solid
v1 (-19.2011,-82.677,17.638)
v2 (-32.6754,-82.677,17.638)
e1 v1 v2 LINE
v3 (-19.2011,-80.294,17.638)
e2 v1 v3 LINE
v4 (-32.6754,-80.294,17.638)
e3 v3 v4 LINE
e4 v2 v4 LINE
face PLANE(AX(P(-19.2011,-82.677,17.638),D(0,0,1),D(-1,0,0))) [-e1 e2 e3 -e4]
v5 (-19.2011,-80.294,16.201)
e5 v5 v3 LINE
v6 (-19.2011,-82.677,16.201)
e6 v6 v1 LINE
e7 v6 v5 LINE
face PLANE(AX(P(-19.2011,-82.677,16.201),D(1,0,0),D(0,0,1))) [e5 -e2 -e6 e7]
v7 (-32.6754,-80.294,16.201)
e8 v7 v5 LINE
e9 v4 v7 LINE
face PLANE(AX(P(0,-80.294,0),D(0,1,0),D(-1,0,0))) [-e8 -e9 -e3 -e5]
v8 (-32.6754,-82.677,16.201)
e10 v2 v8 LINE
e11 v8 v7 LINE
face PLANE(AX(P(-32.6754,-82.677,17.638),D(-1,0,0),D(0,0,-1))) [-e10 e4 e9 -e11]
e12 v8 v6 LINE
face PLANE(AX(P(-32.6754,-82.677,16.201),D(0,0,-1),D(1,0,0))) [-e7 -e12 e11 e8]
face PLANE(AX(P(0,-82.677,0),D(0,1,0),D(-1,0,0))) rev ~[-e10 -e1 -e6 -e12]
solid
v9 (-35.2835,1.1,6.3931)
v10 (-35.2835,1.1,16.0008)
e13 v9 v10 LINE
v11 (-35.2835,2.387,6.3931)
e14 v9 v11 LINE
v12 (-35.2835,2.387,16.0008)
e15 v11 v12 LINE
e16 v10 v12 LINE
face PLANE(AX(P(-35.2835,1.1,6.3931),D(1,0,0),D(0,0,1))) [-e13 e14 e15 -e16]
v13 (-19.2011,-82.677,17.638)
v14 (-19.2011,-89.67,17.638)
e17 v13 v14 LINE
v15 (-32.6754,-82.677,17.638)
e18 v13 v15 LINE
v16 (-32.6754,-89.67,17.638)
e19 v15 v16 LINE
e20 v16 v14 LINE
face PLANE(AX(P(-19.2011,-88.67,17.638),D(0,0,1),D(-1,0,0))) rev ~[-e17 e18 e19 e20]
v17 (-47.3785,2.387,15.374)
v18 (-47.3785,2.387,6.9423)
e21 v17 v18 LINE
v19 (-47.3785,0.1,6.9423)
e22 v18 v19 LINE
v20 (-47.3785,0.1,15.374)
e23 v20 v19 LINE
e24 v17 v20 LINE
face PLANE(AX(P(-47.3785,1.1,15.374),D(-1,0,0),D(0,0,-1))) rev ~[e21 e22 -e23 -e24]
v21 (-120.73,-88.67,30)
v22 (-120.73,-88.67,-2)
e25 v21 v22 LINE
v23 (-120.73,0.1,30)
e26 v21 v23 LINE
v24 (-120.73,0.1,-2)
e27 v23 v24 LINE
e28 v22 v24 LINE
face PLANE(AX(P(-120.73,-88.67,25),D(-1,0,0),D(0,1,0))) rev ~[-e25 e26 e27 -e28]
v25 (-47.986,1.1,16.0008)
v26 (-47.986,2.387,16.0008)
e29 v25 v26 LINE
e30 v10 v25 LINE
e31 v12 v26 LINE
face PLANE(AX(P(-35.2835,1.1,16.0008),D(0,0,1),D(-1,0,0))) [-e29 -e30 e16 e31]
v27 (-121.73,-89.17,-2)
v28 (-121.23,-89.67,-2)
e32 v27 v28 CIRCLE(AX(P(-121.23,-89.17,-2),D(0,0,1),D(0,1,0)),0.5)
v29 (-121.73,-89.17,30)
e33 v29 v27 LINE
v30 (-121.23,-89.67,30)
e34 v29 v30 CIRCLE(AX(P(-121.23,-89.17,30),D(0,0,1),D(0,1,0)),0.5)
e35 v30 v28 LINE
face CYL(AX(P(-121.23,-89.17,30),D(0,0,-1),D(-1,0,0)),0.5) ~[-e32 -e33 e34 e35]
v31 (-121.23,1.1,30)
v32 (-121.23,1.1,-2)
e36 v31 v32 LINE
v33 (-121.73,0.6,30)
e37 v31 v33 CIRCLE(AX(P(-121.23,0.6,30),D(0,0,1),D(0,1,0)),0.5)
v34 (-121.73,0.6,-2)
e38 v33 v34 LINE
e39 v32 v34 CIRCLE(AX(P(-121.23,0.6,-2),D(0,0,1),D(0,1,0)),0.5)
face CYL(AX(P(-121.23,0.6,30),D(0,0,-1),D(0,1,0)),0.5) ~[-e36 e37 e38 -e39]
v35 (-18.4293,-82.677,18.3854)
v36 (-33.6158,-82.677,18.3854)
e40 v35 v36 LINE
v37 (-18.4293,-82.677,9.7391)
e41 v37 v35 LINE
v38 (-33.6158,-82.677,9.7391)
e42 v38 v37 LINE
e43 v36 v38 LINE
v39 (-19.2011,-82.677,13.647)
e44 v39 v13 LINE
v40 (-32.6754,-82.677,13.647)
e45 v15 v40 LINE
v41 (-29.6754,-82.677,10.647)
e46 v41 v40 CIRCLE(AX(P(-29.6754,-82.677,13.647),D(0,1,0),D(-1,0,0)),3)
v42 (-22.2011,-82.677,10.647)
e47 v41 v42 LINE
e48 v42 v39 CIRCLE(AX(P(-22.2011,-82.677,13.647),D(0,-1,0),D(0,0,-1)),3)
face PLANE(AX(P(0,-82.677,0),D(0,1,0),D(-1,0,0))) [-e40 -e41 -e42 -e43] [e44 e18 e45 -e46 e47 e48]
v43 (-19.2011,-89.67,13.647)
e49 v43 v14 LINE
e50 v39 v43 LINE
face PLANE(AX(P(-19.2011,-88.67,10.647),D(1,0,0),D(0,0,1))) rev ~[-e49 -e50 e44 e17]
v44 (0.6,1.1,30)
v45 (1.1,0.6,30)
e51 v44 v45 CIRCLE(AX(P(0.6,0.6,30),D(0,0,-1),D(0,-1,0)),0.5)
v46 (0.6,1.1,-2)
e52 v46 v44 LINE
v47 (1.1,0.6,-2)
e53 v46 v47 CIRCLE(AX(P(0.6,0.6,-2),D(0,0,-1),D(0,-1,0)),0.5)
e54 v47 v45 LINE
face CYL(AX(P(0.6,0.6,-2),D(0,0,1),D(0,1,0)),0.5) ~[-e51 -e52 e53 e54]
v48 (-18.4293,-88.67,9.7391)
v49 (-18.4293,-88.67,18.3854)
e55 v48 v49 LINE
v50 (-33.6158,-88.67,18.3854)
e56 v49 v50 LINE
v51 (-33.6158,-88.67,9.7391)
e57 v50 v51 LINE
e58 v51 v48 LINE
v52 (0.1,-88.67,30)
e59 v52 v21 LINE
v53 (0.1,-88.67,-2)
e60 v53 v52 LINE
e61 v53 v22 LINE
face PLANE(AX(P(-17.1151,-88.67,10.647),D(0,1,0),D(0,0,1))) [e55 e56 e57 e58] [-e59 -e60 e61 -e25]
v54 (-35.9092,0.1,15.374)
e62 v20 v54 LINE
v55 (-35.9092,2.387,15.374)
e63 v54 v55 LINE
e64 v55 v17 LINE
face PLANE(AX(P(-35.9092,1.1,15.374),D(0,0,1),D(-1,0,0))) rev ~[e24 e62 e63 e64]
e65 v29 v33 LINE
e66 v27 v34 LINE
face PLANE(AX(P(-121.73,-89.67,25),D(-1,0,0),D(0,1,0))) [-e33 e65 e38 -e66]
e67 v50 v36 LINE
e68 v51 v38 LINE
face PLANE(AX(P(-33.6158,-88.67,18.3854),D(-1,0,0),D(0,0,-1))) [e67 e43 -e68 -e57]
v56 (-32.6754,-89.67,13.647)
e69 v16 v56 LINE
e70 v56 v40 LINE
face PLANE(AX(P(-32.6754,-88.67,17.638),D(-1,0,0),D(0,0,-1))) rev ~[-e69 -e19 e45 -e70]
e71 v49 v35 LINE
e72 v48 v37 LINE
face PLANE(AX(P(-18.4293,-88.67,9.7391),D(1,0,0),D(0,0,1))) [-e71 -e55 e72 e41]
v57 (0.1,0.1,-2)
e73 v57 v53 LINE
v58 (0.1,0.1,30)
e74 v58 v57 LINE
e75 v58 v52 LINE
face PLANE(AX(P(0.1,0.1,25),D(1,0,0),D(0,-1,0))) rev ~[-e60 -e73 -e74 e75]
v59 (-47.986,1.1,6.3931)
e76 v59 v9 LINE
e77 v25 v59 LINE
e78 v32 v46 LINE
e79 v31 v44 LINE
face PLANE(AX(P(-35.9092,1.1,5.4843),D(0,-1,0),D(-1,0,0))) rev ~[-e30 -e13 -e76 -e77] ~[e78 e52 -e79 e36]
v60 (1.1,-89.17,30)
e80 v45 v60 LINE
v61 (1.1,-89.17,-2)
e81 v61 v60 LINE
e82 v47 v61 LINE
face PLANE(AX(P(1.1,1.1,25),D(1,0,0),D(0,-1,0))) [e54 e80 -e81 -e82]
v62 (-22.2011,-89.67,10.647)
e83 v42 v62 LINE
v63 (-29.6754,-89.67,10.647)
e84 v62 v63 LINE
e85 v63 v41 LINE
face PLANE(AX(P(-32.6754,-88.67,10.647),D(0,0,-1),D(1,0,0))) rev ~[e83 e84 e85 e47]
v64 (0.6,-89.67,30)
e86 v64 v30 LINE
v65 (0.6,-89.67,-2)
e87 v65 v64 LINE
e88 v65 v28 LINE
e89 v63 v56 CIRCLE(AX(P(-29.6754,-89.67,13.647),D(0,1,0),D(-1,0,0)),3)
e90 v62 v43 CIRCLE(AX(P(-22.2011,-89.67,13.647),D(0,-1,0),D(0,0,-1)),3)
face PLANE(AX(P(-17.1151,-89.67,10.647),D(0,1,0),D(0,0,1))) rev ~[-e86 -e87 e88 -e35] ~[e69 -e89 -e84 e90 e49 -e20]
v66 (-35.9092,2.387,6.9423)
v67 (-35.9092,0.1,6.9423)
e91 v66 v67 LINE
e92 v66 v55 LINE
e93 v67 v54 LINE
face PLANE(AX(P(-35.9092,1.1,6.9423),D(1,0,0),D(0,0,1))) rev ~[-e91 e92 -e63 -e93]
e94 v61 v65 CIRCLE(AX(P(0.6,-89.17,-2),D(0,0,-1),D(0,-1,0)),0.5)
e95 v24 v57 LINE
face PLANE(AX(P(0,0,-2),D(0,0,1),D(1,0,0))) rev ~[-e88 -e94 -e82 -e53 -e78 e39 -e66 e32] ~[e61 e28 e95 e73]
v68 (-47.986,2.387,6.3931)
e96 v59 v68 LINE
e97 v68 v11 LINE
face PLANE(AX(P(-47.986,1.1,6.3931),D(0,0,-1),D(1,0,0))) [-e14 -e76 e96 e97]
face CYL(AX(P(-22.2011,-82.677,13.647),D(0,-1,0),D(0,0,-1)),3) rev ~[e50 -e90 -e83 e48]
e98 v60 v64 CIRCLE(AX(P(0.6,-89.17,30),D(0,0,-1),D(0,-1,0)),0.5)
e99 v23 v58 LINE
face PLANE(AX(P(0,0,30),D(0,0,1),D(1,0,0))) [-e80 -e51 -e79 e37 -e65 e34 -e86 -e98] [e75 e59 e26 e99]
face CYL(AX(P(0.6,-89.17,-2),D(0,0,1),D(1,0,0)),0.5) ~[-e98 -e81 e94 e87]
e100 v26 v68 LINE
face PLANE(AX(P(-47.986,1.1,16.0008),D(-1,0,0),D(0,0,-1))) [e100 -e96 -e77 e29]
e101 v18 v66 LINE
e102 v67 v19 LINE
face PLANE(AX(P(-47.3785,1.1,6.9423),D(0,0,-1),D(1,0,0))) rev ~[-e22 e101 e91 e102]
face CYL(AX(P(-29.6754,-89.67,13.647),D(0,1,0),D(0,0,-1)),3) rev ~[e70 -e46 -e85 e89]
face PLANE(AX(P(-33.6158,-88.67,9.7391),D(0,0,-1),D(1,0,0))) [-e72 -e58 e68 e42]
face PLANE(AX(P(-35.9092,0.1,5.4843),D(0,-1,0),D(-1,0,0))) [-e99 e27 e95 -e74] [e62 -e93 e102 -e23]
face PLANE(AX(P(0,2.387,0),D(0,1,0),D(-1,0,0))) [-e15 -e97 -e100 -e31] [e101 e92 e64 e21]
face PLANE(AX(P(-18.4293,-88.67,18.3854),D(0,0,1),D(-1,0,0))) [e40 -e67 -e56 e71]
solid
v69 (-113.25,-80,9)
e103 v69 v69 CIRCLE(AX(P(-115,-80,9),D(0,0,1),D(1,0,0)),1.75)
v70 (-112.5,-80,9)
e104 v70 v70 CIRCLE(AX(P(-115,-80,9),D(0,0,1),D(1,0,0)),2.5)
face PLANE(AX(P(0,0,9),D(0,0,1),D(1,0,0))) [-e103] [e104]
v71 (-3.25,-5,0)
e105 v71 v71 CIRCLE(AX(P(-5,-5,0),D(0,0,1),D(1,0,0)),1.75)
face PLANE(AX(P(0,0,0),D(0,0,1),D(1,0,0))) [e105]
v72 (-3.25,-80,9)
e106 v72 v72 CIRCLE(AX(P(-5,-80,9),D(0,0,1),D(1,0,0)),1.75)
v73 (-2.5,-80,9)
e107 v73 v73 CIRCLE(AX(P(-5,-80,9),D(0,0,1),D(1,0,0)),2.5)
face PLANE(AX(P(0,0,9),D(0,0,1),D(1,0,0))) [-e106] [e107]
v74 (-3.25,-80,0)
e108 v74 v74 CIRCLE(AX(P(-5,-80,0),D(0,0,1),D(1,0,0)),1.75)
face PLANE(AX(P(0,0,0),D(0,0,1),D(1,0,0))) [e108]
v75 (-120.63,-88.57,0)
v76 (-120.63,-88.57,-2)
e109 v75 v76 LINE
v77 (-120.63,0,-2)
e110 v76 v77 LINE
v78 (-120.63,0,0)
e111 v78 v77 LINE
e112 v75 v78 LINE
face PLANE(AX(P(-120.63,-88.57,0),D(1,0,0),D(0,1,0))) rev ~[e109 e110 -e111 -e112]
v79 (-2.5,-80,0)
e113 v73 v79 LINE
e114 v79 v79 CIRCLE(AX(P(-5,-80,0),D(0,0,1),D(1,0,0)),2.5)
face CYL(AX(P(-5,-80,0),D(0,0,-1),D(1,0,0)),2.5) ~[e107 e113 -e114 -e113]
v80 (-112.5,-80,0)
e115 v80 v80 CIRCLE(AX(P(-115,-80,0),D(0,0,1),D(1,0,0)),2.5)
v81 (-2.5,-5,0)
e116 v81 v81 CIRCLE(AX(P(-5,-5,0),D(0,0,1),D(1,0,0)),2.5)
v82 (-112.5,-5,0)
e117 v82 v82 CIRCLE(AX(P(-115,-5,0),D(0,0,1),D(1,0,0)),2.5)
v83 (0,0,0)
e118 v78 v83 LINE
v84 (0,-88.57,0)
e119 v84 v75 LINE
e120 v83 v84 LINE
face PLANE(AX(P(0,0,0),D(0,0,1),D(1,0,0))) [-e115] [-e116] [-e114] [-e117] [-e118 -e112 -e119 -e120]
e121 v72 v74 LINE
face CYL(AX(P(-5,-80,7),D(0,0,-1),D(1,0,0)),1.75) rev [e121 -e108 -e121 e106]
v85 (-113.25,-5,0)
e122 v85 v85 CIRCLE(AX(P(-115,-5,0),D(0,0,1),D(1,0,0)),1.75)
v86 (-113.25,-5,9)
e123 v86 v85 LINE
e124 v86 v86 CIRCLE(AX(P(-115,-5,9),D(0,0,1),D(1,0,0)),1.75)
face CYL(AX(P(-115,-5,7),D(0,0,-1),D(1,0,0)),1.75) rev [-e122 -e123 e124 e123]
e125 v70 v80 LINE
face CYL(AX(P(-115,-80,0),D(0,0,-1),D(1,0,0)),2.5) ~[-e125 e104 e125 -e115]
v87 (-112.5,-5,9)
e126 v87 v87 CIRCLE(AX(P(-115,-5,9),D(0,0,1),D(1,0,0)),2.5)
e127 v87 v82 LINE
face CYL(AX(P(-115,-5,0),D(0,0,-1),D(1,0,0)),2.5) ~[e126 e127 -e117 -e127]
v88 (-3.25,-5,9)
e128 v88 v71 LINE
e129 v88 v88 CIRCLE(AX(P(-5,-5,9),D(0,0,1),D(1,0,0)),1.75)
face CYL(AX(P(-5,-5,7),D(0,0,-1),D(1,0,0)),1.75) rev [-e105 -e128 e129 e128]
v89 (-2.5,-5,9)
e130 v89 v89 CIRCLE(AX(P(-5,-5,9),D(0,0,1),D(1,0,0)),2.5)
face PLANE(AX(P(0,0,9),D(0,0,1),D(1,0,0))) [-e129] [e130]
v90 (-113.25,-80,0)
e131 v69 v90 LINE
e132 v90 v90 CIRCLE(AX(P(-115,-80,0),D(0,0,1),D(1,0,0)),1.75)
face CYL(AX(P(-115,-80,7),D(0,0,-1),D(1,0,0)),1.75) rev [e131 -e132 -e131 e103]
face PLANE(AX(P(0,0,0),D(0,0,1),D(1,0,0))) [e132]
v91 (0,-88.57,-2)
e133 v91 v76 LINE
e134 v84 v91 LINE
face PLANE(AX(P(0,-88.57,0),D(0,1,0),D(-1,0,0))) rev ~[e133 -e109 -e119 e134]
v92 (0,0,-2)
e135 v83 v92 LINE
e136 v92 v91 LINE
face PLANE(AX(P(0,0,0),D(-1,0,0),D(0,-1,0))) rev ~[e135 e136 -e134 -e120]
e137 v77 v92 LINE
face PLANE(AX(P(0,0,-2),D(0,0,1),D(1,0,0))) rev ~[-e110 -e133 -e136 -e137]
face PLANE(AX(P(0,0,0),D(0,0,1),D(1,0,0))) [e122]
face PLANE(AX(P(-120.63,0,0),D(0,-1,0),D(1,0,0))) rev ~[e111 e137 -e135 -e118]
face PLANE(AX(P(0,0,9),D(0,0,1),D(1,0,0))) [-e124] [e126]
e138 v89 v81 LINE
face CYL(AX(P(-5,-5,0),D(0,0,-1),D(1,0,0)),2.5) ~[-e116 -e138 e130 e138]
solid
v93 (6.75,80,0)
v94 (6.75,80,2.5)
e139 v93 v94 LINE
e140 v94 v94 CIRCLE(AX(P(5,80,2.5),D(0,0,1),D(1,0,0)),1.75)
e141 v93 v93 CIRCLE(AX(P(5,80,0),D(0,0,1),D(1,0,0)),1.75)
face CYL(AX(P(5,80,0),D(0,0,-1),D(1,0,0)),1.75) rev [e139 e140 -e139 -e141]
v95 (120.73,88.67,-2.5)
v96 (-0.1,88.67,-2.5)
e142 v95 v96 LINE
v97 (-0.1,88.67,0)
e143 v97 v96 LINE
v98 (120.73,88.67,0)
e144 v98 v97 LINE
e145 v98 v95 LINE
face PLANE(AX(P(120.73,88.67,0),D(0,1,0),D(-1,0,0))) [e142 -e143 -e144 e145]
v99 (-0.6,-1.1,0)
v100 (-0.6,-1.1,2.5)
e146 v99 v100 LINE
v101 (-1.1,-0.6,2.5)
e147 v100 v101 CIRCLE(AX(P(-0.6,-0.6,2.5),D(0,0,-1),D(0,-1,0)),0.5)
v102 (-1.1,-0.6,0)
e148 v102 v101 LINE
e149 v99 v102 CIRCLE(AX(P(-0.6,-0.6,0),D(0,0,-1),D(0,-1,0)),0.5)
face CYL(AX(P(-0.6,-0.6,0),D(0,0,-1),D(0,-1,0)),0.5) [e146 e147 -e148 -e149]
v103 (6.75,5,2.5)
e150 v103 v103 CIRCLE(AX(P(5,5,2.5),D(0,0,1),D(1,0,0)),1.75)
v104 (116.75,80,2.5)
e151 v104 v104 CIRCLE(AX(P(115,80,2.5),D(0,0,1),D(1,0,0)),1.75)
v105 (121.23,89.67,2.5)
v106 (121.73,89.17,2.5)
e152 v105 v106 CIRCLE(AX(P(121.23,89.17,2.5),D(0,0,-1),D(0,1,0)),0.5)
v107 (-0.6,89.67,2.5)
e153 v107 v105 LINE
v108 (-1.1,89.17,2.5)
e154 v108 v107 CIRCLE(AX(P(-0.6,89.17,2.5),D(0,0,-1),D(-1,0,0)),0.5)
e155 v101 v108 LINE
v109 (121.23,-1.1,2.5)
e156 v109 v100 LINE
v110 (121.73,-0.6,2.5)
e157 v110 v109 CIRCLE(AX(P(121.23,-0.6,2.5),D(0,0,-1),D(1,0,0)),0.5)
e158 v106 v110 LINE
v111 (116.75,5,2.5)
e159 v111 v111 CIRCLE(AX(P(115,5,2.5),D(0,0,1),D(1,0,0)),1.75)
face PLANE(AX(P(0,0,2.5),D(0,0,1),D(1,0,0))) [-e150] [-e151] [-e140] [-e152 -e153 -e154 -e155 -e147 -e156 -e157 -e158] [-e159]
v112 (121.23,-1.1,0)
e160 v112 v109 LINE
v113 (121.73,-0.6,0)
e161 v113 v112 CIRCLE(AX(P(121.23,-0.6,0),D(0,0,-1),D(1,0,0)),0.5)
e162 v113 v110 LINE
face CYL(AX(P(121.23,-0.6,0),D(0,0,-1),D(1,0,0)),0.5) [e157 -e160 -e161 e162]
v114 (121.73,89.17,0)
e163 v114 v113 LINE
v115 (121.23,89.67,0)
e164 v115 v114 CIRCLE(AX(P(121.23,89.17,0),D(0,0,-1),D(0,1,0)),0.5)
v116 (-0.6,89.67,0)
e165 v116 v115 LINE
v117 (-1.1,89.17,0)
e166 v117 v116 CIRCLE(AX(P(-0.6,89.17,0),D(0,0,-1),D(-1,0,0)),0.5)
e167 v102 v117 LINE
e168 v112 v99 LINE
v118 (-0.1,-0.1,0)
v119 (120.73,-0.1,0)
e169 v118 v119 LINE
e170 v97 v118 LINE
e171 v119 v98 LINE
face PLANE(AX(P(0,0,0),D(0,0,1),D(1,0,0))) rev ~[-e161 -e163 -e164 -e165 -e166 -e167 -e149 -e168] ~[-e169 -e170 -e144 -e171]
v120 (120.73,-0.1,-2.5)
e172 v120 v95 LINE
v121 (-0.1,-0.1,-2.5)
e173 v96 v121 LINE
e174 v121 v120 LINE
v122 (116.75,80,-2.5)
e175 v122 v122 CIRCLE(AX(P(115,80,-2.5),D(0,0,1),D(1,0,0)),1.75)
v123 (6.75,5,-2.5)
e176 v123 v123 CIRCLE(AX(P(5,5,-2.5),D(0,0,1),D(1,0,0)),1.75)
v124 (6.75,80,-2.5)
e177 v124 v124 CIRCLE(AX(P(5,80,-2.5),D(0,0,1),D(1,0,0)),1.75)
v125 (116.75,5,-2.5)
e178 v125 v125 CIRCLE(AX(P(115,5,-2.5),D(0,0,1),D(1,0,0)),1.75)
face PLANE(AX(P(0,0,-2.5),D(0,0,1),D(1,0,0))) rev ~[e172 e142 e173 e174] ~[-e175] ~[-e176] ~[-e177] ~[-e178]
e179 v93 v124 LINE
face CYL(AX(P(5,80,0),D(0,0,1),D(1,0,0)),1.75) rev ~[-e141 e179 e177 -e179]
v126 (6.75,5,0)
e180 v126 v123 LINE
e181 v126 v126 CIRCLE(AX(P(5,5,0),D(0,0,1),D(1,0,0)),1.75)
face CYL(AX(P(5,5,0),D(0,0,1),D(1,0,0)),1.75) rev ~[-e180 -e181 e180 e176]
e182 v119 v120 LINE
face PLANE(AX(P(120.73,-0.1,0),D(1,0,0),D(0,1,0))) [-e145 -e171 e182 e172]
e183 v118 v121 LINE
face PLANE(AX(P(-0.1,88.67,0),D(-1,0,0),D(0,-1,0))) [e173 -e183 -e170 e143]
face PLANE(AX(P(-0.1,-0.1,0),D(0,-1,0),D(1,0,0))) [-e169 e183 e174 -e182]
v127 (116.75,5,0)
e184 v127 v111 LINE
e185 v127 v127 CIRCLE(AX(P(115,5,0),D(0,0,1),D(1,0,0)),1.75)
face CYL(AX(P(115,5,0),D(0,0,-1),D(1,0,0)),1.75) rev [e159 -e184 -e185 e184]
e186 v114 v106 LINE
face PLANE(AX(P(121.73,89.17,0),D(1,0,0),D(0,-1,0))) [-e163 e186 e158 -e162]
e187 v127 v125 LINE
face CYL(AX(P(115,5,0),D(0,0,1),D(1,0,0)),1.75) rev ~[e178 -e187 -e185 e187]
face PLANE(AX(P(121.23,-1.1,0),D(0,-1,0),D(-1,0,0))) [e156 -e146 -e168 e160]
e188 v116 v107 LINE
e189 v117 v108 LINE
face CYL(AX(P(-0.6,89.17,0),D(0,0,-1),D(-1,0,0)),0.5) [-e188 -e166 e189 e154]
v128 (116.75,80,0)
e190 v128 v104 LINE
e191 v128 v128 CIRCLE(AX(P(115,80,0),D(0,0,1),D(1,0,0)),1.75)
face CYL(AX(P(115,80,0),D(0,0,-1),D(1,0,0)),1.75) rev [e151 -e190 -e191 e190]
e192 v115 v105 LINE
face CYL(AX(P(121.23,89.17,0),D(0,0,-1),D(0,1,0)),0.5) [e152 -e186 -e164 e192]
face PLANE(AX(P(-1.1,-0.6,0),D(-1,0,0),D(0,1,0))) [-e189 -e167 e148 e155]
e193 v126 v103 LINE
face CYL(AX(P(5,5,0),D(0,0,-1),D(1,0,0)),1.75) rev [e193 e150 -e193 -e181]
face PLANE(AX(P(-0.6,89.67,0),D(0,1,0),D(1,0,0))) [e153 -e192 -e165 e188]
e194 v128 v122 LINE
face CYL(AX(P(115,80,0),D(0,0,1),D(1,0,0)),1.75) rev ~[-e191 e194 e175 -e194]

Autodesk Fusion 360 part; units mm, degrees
sketch "Sketch 2" plane through (0, 0, 0) normal (0, 0, 1) x (1, 0, 0)
  circle A0 centre (5, 80) radius 1.75
  line L0 (-0.1, -0.1) -> (120.73, -0.1)
  arc A1 (-0.6, -1.1) -> (-1.1, -0.6) centre (-0.6, -0.6) cw
  line L1 (-1.1, -0.6) -> (-1.1, 89.17)
  arc A2 (-1.1, 89.17) -> (-0.6, 89.67) centre (-0.6, 89.17) cw
  line L2 (121.73, 89.17) -> (121.73, -0.6)
  circle A3 centre (115, 80) radius 1.75
  line L3 (120.73, -0.1) -> (120.73, 88.67)
  line L4 (120.73, 88.67) -> (-0.1, 88.67)
  circle A4 centre (115, 5) radius 1.75
  circle A5 centre (5, 5) radius 1.75
  line L5 (121.23, -1.1) -> (-0.6, -1.1)
  arc A6 (121.23, 89.67) -> (121.73, 89.17) centre (121.23, 89.17) cw
  line L6 (-0.1, 88.67) -> (-0.1, -0.1)
  arc A7 (121.73, -0.6) -> (121.23, -1.1) centre (121.23, -0.6) cw
  line L7 (-0.6, 89.67) -> (121.23, 89.67)
  line L8 (-0.1, 88.67) -> (120.73, 88.67)
  line L9 (120.73, 88.67) -> (120.73, -0.1)
  line L10 (120.73, -0.1) -> (-0.1, -0.1)
  line L11 (-0.1, -0.1) -> (-0.1, 88.67)
  dimension "d1" = 1
extrude "Extrude1" add sketch "Sketch 2" along normal blind 2.5 contours L0 L3 L4 L6 L8 L9 L10 L11 | A1 L1 A2 L2 L5 A6 A7 L7
extrude "Extrude2" add sketch "Sketch 2" against normal blind 2.5 contours L0 L3 L4 L6 L8 L9 L10 L11

Autodesk Fusion 360 part; units mm, degrees
sketch "Sketch 1" plane through (0, 0, 0) normal (0, 0, 1) x (1, 0, 0)
  line L0 (-120.63, -88.57) -> (-120.63, 0)
  circle A0 centre (-115, -5) radius 1.75
  line L1 (0, 0) -> (0, -88.57)
  circle A1 centre (-115, -80) radius 1.75
  line L2 (-120.63, 0) -> (0, 0)
  circle A2 centre (-5, -80) radius 1.75
  line L3 (0, -88.57) -> (-120.63, -88.57)
  circle A3 centre (-5, -5) radius 1.75
  line L4 (0.1, -88.67) -> (-120.73, -88.67)
  line L5 (-120.73, -88.67) -> (-120.73, 0.1)
  line L6 (-120.73, 0.1) -> (0.1, 0.1)
  line L7 (0.1, 0.1) -> (0.1, -88.67)
  line L8 (1.1, -89.67) -> (-121.73, -89.67)
  line L9 (-121.73, -89.67) -> (-121.73, 1.1)
  line L10 (-121.73, 1.1) -> (1.1, 1.1)
  line L11 (1.1, 1.1) -> (1.1, -89.67)
  circle A4 centre (-115, -5) radius 2.5
  circle A5 centre (-115, -80) radius 2.5
  circle A6 centre (-5, -80) radius 2.5
  circle A7 centre (-5, -5) radius 2.5
  dimension "d1" = -0.1
  dimension "d2" = -1.1
  dimension "d7" = 5
  dimension "d8" = 5
  dimension "d9" = 5
  dimension "d10" = 5
extrude "Extrude1" add sketch "Sketch 1" against normal blind 2 contours L0 L1 L2 L3 | A0 | A1 | A2 | A3 | L8 L9 L10 L11 | A4 | A5 | A6 | A7 makes body 1 at (-40.21, -29.5233, 0) makes body 2 at (-40.1767, 0.7667, 0)
extrude "Extrude2" add sketch "Sketch 1" along normal blind 35 contours L8 L9 L10 L11 bodies 2
extrude "Extrude4" add sketch "Sketch 1" along normal blind 4 contours A4 | A5 | A6 | A7 bodies 1
extrude "Extrude5" add 4 faces at (-2.7658, -5.2111, 4) (-113.9872, -7.0026, 4) (-117.1045, -80.7791, 4) (-2.7593, -80.1242, 4) along direction (0, 0, 1) blind 3 on bodies 1 bodies 1
extrude "Extrude6" add 4 faces at (-113.9872, -7.0026, 7) (-2.7658, -5.2111, 7) (-117.1045, -80.7791, 7) (-2.7593, -80.1242, 7) along direction (0, 0, 1) blind 2 on bodies 1 bodies 1
extrude "Extrude7" cut 1 faces at (-40.1767, 0.7667, 35) along direction (0, 0, -1) blind 10 on bodies 2 bodies 2
extrude "Extrude8" add 1 faces at (-40.1767, 0.7667, 25) along direction (0, 0, 1) blind 5 on bodies 2 bodies 2
sketch "Sketch3" plane through (0, -89.67, 0) normal (0, -1, 0) x (1, 0, 0)
  line L0 (-121.73, 30) -> (-121.73, -2)
  line L1 (-121.73, -2) -> (1.1, -2)
  line L2 (1.1, -2) -> (1.1, 30)
  line L3 (1.1, 30) -> (-121.73, 30)
  line L4 (1.1, 5.8274) -> (-16.9, 5.8274) construction
  line L5 (-17.1151, -2) -> (-17.1151, 6) construction
  line L6 (-17.1151, 6) -> (-31.8464, 6)
  line L7 (-31.8464, 6) -> (-31.8464, 13)
  line L8 (-31.8464, 13) -> (-17.1151, 13)
  line L9 (-17.1151, 13) -> (-17.1151, 6)
  dimension "d23" = 18
  dimension "d24" = 8
  dimension "d25" = 7
extrude "Extrude9" cut sketch "Sketch3" along normal blind 5.784 from surface at -1 contours L6 L7 L8 L9 bodies 2
extrude "Extrude10" add 1 faces at (-22.0255, -89.0033, 6) along direction (0, 0, 1) blind 2.752 on bodies 2 bodies 2
extrude "Extrude11" cut 1 faces at (-26.936, -89.0033, 13) along direction (0, 0, 1) blind 2.948 on bodies 2 bodies 2
extrude "Extrude12" cut 1 faces at (-26.936, -89.0033, 15.948) along direction (0, 0, 1) blind 1.69 on bodies 2 bodies 2
extrude "Extrude13" add 1 faces at (-22.0255, -89.0033, 8.752) along direction (0, 0, 1) blind 1.895 on bodies 2 bodies 2
extrude "Extrude14" add 1 faces at (-17.1151, -89.0033, 15.3077) along direction (-1, 0, 0) blind 2.086 on bodies 2 bodies 2
extrude "Extrude15" cut 1 faces at (-31.8464, -89.0033, 12.9773) along direction (-1, 0, 0) blind 0.829 on bodies 2 bodies 2
sketch "Sketch4" plane through (0, -88.67, 0) normal (0, 1, 0) x (-1, 0, 0)
  line L0 (32.6754, 10.647) -> (19.2011, 10.647)
  line L1 (19.2011, 10.647) -> (19.2011, 17.638)
  line L2 (19.2011, 17.638) -> (32.6754, 17.638)
  line L3 (32.6754, 17.638) -> (32.6754, 10.647)
  line L4 (-0.1, 30) -> (-0.1, -2)
  line L5 (-0.1, -2) -> (120.73, -2)
  line L6 (120.73, -2) -> (120.73, 30)
  line L7 (120.73, 30) -> (-0.1, 30)
  line L8 (18.4293, 18.3854) -> (33.6158, 18.3854)
  line L9 (33.6158, 18.3854) -> (33.6158, 9.7391)
  line L10 (33.6158, 9.7391) -> (18.4293, 9.7391)
  line L11 (18.4293, 9.7391) -> (18.4293, 18.3854)
extrude "Extrude16" add sketch "Sketch4" along normal blind 12.179 contours L8 L9 L10 L11 bodies 2
extrude "Extrude17" cut 1 faces at (-33.3023, -76.491, 12.9239) along direction (0, -1, 0) blind 6.186 on bodies 2 bodies 2
fillet "Fillet1" radius 0.5 1 edges at (1.1, 1.1, 14) on bodies 2
fillet "Fillet2" radius 0.5 1 edges at (1.1, -89.67, 14) on bodies 2
fillet "Fillet3" radius 0.5 1 edges at (-121.73, 1.1, 14) on bodies 2
fillet "Fillet4" radius 0.5 1 edges at (-121.73, -89.67, 14) on bodies 2
fillet "Fillet5" radius 3 1 edges at (-19.2011, -86.1735, 10.647) on bodies 2
fillet "Fillet6" radius 3 1 edges at (-32.6754, -86.1735, 10.647) on bodies 2
sketch "Sketch5" plane through (0, -82.677, 0) normal (0, 1, 0) x (-1, 0, 0)
  line L0 (19.2011, 17.638) -> (32.6754, 17.638)
  line L1 (32.6754, 17.638) -> (32.6754, 13.647)
  arc A0 (29.6754, 10.647) -> (32.6754, 13.647) centre (29.6754, 13.647) ccw
  line L2 (29.6754, 10.647) -> (22.2011, 10.647)
  arc A1 (19.2011, 13.647) -> (22.2011, 10.647) centre (22.2011, 13.647) ccw
  line L3 (19.2011, 13.647) -> (19.2011, 17.638)
  line L4 (18.4293, 9.7391) -> (33.6158, 9.7391)
  line L5 (33.6158, 9.7391) -> (33.6158, 18.3854)
  line L6 (33.6158, 18.3854) -> (18.4293, 18.3854)
  line L7 (18.4293, 18.3854) -> (18.4293, 9.7391)
  line L8 (19.2011, 17.638) -> (32.6754, 17.638)
  line L9 (32.6754, 17.638) -> (32.6754, 16.201)
  line L10 (32.6754, 16.201) -> (19.2011, 16.201)
  line L11 (19.2011, 16.201) -> (19.2011, 17.638)
extrude "Extrude18" add sketch "Sketch5" along normal blind 2.383 separate body contours L0 L1 L3 L8 L9 L10 L11 makes body 3
sketch "Sketch6" plane through (0, -82.677, 0) normal (0, 1, 0) x (-1, 0, 0)
  line L0 (19.2011, 17.638) -> (32.6754, 17.638)
  line L1 (32.6754, 17.638) -> (32.6754, 13.647)
  arc A0 (29.6754, 10.647) -> (32.6754, 13.647) centre (29.6754, 13.647) ccw
  line L2 (29.6754, 10.647) -> (22.2011, 10.647)
  arc A1 (19.2011, 13.647) -> (22.2011, 10.647) centre (22.2011, 13.647) ccw
  line L3 (19.2011, 13.647) -> (19.2011, 17.638)
  line L4 (18.4293, 9.7391) -> (33.6158, 9.7391)
  line L5 (33.6158, 9.7391) -> (33.6158, 18.3854)
  line L6 (33.6158, 18.3854) -> (18.4293, 18.3854)
  line L7 (18.4293, 18.3854) -> (18.4293, 9.7391)
sketch "Sketch7" plane through (0, -82.677, 0) normal (0, 1, 0) x (-1, 0, 0)
sketch "Sketch8" plane through (0, -82.677, 0) normal (0, 1, 0) x (-1, 0, 0)
sketch "Sketch9" plane through (0, -82.677, 0) normal (0, 1, 0) x (-1, 0, 0)
sketch "Sketch10" plane through (0, -88.67, 0) normal (0, 1, 0) x (-1, 0, 0)
sketch "Sketch11" plane through (0, 1.1, 0) normal (0, 1, 0) x (-1, 0, 0)
  line L0 (121.23, -2) -> (121.23, 30)
  line L1 (121.23, 30) -> (-0.6, 30)
  line L2 (-0.6, 30) -> (-0.6, -2)
  line L3 (-0.6, -2) -> (121.23, -2)
  line L4 (19.1502, 15.374) -> (32.0205, 15.374)
  line L5 (32.0205, 15.374) -> (32.0205, 4.3423)
  line L6 (32.0205, 4.3423) -> (19.1502, 4.3423)
  line L7 (19.1502, 4.3423) -> (19.1502, 15.374)
extrude "Extrude19" cut sketch "Sketch11" along normal blind 7.369 from surface at -1 contours L4 L5 L6 L7 bodies 2
extrude "Extrude20" cut 1 faces at (-32.0205, 0.4333, 11.6967) along direction (-1, 0, 0) blind 22.557 on bodies 2 bodies 2
extrude "Extrude21" add 1 faces at (-19.1502, 0.4333, 8.0195) along direction (-1, 0, 0) blind 20.425 on bodies 2 bodies 2
extrude "Extrude22" cut 1 faces at (-39.5752, 0.4333, 8.0195) along direction (1, 0, 0) blind 4.126 on bodies 2 bodies 2
extrude "Extrude23" add 1 faces at (-54.5775, 0.4333, 11.6967) along direction (1, 0, 0) blind 5.127 on bodies 2 bodies 2
extrude "Extrude24" add 1 faces at (-44.7834, 0.4333, 4.3423) along direction (0, 0, 1) blind 0.064 on bodies 2 bodies 2
extrude "Extrude25" add 1 faces at (-49.4505, 0.4333, 11.7181) along direction (1, 0, 0) blind 2.072 on bodies 2 bodies 2
extrude "Extrude26" add 1 faces at (-35.4492, 0.7667, 8.0622) along direction (-1, 0, 0) blind 0.46 on bodies 2 bodies 2
extrude "Extrude27" add 1 faces at (-43.5554, 0.4333, 4.4063) along direction (0, 0, 1) blind 1.078 on bodies 2 bodies 2
extrude "Extrude28" add 1 faces at (-43.5554, 0.4333, 5.4843) along direction (0, 0, 1) blind 1.458 on bodies 2 bodies 2
sketch "Sketch12" plane through (0, 1.1, 0) normal (0, 1, 0) x (-1, 0, 0)
  line L0 (35.9092, 15.374) -> (47.3785, 15.374)
  line L1 (47.3785, 15.374) -> (47.3785, 6.9423)
  line L2 (47.3785, 6.9423) -> (35.9092, 6.9423)
  line L3 (35.9092, 6.9423) -> (35.9092, 15.374)
  line L4 (121.23, -2) -> (121.23, 30)
  line L5 (121.23, 30) -> (-0.6, 30)
  line L6 (-0.6, 30) -> (-0.6, -2)
  line L7 (-0.6, -2) -> (121.23, -2)
  line L8 (35.2835, 16.0008) -> (47.986, 16.0008)
  line L9 (47.986, 16.0008) -> (47.986, 6.3931)
  line L10 (47.986, 6.3931) -> (35.2835, 6.3931)
  line L11 (35.2835, 6.3931) -> (35.2835, 16.0008)
  dimension "d74" = 12.7025
extrude "Extrude29" add sketch "Sketch12" along normal blind 1.287 contours L8 L9 L10 L11 bodies 2
extrude "Extrude3" [suppressed]
